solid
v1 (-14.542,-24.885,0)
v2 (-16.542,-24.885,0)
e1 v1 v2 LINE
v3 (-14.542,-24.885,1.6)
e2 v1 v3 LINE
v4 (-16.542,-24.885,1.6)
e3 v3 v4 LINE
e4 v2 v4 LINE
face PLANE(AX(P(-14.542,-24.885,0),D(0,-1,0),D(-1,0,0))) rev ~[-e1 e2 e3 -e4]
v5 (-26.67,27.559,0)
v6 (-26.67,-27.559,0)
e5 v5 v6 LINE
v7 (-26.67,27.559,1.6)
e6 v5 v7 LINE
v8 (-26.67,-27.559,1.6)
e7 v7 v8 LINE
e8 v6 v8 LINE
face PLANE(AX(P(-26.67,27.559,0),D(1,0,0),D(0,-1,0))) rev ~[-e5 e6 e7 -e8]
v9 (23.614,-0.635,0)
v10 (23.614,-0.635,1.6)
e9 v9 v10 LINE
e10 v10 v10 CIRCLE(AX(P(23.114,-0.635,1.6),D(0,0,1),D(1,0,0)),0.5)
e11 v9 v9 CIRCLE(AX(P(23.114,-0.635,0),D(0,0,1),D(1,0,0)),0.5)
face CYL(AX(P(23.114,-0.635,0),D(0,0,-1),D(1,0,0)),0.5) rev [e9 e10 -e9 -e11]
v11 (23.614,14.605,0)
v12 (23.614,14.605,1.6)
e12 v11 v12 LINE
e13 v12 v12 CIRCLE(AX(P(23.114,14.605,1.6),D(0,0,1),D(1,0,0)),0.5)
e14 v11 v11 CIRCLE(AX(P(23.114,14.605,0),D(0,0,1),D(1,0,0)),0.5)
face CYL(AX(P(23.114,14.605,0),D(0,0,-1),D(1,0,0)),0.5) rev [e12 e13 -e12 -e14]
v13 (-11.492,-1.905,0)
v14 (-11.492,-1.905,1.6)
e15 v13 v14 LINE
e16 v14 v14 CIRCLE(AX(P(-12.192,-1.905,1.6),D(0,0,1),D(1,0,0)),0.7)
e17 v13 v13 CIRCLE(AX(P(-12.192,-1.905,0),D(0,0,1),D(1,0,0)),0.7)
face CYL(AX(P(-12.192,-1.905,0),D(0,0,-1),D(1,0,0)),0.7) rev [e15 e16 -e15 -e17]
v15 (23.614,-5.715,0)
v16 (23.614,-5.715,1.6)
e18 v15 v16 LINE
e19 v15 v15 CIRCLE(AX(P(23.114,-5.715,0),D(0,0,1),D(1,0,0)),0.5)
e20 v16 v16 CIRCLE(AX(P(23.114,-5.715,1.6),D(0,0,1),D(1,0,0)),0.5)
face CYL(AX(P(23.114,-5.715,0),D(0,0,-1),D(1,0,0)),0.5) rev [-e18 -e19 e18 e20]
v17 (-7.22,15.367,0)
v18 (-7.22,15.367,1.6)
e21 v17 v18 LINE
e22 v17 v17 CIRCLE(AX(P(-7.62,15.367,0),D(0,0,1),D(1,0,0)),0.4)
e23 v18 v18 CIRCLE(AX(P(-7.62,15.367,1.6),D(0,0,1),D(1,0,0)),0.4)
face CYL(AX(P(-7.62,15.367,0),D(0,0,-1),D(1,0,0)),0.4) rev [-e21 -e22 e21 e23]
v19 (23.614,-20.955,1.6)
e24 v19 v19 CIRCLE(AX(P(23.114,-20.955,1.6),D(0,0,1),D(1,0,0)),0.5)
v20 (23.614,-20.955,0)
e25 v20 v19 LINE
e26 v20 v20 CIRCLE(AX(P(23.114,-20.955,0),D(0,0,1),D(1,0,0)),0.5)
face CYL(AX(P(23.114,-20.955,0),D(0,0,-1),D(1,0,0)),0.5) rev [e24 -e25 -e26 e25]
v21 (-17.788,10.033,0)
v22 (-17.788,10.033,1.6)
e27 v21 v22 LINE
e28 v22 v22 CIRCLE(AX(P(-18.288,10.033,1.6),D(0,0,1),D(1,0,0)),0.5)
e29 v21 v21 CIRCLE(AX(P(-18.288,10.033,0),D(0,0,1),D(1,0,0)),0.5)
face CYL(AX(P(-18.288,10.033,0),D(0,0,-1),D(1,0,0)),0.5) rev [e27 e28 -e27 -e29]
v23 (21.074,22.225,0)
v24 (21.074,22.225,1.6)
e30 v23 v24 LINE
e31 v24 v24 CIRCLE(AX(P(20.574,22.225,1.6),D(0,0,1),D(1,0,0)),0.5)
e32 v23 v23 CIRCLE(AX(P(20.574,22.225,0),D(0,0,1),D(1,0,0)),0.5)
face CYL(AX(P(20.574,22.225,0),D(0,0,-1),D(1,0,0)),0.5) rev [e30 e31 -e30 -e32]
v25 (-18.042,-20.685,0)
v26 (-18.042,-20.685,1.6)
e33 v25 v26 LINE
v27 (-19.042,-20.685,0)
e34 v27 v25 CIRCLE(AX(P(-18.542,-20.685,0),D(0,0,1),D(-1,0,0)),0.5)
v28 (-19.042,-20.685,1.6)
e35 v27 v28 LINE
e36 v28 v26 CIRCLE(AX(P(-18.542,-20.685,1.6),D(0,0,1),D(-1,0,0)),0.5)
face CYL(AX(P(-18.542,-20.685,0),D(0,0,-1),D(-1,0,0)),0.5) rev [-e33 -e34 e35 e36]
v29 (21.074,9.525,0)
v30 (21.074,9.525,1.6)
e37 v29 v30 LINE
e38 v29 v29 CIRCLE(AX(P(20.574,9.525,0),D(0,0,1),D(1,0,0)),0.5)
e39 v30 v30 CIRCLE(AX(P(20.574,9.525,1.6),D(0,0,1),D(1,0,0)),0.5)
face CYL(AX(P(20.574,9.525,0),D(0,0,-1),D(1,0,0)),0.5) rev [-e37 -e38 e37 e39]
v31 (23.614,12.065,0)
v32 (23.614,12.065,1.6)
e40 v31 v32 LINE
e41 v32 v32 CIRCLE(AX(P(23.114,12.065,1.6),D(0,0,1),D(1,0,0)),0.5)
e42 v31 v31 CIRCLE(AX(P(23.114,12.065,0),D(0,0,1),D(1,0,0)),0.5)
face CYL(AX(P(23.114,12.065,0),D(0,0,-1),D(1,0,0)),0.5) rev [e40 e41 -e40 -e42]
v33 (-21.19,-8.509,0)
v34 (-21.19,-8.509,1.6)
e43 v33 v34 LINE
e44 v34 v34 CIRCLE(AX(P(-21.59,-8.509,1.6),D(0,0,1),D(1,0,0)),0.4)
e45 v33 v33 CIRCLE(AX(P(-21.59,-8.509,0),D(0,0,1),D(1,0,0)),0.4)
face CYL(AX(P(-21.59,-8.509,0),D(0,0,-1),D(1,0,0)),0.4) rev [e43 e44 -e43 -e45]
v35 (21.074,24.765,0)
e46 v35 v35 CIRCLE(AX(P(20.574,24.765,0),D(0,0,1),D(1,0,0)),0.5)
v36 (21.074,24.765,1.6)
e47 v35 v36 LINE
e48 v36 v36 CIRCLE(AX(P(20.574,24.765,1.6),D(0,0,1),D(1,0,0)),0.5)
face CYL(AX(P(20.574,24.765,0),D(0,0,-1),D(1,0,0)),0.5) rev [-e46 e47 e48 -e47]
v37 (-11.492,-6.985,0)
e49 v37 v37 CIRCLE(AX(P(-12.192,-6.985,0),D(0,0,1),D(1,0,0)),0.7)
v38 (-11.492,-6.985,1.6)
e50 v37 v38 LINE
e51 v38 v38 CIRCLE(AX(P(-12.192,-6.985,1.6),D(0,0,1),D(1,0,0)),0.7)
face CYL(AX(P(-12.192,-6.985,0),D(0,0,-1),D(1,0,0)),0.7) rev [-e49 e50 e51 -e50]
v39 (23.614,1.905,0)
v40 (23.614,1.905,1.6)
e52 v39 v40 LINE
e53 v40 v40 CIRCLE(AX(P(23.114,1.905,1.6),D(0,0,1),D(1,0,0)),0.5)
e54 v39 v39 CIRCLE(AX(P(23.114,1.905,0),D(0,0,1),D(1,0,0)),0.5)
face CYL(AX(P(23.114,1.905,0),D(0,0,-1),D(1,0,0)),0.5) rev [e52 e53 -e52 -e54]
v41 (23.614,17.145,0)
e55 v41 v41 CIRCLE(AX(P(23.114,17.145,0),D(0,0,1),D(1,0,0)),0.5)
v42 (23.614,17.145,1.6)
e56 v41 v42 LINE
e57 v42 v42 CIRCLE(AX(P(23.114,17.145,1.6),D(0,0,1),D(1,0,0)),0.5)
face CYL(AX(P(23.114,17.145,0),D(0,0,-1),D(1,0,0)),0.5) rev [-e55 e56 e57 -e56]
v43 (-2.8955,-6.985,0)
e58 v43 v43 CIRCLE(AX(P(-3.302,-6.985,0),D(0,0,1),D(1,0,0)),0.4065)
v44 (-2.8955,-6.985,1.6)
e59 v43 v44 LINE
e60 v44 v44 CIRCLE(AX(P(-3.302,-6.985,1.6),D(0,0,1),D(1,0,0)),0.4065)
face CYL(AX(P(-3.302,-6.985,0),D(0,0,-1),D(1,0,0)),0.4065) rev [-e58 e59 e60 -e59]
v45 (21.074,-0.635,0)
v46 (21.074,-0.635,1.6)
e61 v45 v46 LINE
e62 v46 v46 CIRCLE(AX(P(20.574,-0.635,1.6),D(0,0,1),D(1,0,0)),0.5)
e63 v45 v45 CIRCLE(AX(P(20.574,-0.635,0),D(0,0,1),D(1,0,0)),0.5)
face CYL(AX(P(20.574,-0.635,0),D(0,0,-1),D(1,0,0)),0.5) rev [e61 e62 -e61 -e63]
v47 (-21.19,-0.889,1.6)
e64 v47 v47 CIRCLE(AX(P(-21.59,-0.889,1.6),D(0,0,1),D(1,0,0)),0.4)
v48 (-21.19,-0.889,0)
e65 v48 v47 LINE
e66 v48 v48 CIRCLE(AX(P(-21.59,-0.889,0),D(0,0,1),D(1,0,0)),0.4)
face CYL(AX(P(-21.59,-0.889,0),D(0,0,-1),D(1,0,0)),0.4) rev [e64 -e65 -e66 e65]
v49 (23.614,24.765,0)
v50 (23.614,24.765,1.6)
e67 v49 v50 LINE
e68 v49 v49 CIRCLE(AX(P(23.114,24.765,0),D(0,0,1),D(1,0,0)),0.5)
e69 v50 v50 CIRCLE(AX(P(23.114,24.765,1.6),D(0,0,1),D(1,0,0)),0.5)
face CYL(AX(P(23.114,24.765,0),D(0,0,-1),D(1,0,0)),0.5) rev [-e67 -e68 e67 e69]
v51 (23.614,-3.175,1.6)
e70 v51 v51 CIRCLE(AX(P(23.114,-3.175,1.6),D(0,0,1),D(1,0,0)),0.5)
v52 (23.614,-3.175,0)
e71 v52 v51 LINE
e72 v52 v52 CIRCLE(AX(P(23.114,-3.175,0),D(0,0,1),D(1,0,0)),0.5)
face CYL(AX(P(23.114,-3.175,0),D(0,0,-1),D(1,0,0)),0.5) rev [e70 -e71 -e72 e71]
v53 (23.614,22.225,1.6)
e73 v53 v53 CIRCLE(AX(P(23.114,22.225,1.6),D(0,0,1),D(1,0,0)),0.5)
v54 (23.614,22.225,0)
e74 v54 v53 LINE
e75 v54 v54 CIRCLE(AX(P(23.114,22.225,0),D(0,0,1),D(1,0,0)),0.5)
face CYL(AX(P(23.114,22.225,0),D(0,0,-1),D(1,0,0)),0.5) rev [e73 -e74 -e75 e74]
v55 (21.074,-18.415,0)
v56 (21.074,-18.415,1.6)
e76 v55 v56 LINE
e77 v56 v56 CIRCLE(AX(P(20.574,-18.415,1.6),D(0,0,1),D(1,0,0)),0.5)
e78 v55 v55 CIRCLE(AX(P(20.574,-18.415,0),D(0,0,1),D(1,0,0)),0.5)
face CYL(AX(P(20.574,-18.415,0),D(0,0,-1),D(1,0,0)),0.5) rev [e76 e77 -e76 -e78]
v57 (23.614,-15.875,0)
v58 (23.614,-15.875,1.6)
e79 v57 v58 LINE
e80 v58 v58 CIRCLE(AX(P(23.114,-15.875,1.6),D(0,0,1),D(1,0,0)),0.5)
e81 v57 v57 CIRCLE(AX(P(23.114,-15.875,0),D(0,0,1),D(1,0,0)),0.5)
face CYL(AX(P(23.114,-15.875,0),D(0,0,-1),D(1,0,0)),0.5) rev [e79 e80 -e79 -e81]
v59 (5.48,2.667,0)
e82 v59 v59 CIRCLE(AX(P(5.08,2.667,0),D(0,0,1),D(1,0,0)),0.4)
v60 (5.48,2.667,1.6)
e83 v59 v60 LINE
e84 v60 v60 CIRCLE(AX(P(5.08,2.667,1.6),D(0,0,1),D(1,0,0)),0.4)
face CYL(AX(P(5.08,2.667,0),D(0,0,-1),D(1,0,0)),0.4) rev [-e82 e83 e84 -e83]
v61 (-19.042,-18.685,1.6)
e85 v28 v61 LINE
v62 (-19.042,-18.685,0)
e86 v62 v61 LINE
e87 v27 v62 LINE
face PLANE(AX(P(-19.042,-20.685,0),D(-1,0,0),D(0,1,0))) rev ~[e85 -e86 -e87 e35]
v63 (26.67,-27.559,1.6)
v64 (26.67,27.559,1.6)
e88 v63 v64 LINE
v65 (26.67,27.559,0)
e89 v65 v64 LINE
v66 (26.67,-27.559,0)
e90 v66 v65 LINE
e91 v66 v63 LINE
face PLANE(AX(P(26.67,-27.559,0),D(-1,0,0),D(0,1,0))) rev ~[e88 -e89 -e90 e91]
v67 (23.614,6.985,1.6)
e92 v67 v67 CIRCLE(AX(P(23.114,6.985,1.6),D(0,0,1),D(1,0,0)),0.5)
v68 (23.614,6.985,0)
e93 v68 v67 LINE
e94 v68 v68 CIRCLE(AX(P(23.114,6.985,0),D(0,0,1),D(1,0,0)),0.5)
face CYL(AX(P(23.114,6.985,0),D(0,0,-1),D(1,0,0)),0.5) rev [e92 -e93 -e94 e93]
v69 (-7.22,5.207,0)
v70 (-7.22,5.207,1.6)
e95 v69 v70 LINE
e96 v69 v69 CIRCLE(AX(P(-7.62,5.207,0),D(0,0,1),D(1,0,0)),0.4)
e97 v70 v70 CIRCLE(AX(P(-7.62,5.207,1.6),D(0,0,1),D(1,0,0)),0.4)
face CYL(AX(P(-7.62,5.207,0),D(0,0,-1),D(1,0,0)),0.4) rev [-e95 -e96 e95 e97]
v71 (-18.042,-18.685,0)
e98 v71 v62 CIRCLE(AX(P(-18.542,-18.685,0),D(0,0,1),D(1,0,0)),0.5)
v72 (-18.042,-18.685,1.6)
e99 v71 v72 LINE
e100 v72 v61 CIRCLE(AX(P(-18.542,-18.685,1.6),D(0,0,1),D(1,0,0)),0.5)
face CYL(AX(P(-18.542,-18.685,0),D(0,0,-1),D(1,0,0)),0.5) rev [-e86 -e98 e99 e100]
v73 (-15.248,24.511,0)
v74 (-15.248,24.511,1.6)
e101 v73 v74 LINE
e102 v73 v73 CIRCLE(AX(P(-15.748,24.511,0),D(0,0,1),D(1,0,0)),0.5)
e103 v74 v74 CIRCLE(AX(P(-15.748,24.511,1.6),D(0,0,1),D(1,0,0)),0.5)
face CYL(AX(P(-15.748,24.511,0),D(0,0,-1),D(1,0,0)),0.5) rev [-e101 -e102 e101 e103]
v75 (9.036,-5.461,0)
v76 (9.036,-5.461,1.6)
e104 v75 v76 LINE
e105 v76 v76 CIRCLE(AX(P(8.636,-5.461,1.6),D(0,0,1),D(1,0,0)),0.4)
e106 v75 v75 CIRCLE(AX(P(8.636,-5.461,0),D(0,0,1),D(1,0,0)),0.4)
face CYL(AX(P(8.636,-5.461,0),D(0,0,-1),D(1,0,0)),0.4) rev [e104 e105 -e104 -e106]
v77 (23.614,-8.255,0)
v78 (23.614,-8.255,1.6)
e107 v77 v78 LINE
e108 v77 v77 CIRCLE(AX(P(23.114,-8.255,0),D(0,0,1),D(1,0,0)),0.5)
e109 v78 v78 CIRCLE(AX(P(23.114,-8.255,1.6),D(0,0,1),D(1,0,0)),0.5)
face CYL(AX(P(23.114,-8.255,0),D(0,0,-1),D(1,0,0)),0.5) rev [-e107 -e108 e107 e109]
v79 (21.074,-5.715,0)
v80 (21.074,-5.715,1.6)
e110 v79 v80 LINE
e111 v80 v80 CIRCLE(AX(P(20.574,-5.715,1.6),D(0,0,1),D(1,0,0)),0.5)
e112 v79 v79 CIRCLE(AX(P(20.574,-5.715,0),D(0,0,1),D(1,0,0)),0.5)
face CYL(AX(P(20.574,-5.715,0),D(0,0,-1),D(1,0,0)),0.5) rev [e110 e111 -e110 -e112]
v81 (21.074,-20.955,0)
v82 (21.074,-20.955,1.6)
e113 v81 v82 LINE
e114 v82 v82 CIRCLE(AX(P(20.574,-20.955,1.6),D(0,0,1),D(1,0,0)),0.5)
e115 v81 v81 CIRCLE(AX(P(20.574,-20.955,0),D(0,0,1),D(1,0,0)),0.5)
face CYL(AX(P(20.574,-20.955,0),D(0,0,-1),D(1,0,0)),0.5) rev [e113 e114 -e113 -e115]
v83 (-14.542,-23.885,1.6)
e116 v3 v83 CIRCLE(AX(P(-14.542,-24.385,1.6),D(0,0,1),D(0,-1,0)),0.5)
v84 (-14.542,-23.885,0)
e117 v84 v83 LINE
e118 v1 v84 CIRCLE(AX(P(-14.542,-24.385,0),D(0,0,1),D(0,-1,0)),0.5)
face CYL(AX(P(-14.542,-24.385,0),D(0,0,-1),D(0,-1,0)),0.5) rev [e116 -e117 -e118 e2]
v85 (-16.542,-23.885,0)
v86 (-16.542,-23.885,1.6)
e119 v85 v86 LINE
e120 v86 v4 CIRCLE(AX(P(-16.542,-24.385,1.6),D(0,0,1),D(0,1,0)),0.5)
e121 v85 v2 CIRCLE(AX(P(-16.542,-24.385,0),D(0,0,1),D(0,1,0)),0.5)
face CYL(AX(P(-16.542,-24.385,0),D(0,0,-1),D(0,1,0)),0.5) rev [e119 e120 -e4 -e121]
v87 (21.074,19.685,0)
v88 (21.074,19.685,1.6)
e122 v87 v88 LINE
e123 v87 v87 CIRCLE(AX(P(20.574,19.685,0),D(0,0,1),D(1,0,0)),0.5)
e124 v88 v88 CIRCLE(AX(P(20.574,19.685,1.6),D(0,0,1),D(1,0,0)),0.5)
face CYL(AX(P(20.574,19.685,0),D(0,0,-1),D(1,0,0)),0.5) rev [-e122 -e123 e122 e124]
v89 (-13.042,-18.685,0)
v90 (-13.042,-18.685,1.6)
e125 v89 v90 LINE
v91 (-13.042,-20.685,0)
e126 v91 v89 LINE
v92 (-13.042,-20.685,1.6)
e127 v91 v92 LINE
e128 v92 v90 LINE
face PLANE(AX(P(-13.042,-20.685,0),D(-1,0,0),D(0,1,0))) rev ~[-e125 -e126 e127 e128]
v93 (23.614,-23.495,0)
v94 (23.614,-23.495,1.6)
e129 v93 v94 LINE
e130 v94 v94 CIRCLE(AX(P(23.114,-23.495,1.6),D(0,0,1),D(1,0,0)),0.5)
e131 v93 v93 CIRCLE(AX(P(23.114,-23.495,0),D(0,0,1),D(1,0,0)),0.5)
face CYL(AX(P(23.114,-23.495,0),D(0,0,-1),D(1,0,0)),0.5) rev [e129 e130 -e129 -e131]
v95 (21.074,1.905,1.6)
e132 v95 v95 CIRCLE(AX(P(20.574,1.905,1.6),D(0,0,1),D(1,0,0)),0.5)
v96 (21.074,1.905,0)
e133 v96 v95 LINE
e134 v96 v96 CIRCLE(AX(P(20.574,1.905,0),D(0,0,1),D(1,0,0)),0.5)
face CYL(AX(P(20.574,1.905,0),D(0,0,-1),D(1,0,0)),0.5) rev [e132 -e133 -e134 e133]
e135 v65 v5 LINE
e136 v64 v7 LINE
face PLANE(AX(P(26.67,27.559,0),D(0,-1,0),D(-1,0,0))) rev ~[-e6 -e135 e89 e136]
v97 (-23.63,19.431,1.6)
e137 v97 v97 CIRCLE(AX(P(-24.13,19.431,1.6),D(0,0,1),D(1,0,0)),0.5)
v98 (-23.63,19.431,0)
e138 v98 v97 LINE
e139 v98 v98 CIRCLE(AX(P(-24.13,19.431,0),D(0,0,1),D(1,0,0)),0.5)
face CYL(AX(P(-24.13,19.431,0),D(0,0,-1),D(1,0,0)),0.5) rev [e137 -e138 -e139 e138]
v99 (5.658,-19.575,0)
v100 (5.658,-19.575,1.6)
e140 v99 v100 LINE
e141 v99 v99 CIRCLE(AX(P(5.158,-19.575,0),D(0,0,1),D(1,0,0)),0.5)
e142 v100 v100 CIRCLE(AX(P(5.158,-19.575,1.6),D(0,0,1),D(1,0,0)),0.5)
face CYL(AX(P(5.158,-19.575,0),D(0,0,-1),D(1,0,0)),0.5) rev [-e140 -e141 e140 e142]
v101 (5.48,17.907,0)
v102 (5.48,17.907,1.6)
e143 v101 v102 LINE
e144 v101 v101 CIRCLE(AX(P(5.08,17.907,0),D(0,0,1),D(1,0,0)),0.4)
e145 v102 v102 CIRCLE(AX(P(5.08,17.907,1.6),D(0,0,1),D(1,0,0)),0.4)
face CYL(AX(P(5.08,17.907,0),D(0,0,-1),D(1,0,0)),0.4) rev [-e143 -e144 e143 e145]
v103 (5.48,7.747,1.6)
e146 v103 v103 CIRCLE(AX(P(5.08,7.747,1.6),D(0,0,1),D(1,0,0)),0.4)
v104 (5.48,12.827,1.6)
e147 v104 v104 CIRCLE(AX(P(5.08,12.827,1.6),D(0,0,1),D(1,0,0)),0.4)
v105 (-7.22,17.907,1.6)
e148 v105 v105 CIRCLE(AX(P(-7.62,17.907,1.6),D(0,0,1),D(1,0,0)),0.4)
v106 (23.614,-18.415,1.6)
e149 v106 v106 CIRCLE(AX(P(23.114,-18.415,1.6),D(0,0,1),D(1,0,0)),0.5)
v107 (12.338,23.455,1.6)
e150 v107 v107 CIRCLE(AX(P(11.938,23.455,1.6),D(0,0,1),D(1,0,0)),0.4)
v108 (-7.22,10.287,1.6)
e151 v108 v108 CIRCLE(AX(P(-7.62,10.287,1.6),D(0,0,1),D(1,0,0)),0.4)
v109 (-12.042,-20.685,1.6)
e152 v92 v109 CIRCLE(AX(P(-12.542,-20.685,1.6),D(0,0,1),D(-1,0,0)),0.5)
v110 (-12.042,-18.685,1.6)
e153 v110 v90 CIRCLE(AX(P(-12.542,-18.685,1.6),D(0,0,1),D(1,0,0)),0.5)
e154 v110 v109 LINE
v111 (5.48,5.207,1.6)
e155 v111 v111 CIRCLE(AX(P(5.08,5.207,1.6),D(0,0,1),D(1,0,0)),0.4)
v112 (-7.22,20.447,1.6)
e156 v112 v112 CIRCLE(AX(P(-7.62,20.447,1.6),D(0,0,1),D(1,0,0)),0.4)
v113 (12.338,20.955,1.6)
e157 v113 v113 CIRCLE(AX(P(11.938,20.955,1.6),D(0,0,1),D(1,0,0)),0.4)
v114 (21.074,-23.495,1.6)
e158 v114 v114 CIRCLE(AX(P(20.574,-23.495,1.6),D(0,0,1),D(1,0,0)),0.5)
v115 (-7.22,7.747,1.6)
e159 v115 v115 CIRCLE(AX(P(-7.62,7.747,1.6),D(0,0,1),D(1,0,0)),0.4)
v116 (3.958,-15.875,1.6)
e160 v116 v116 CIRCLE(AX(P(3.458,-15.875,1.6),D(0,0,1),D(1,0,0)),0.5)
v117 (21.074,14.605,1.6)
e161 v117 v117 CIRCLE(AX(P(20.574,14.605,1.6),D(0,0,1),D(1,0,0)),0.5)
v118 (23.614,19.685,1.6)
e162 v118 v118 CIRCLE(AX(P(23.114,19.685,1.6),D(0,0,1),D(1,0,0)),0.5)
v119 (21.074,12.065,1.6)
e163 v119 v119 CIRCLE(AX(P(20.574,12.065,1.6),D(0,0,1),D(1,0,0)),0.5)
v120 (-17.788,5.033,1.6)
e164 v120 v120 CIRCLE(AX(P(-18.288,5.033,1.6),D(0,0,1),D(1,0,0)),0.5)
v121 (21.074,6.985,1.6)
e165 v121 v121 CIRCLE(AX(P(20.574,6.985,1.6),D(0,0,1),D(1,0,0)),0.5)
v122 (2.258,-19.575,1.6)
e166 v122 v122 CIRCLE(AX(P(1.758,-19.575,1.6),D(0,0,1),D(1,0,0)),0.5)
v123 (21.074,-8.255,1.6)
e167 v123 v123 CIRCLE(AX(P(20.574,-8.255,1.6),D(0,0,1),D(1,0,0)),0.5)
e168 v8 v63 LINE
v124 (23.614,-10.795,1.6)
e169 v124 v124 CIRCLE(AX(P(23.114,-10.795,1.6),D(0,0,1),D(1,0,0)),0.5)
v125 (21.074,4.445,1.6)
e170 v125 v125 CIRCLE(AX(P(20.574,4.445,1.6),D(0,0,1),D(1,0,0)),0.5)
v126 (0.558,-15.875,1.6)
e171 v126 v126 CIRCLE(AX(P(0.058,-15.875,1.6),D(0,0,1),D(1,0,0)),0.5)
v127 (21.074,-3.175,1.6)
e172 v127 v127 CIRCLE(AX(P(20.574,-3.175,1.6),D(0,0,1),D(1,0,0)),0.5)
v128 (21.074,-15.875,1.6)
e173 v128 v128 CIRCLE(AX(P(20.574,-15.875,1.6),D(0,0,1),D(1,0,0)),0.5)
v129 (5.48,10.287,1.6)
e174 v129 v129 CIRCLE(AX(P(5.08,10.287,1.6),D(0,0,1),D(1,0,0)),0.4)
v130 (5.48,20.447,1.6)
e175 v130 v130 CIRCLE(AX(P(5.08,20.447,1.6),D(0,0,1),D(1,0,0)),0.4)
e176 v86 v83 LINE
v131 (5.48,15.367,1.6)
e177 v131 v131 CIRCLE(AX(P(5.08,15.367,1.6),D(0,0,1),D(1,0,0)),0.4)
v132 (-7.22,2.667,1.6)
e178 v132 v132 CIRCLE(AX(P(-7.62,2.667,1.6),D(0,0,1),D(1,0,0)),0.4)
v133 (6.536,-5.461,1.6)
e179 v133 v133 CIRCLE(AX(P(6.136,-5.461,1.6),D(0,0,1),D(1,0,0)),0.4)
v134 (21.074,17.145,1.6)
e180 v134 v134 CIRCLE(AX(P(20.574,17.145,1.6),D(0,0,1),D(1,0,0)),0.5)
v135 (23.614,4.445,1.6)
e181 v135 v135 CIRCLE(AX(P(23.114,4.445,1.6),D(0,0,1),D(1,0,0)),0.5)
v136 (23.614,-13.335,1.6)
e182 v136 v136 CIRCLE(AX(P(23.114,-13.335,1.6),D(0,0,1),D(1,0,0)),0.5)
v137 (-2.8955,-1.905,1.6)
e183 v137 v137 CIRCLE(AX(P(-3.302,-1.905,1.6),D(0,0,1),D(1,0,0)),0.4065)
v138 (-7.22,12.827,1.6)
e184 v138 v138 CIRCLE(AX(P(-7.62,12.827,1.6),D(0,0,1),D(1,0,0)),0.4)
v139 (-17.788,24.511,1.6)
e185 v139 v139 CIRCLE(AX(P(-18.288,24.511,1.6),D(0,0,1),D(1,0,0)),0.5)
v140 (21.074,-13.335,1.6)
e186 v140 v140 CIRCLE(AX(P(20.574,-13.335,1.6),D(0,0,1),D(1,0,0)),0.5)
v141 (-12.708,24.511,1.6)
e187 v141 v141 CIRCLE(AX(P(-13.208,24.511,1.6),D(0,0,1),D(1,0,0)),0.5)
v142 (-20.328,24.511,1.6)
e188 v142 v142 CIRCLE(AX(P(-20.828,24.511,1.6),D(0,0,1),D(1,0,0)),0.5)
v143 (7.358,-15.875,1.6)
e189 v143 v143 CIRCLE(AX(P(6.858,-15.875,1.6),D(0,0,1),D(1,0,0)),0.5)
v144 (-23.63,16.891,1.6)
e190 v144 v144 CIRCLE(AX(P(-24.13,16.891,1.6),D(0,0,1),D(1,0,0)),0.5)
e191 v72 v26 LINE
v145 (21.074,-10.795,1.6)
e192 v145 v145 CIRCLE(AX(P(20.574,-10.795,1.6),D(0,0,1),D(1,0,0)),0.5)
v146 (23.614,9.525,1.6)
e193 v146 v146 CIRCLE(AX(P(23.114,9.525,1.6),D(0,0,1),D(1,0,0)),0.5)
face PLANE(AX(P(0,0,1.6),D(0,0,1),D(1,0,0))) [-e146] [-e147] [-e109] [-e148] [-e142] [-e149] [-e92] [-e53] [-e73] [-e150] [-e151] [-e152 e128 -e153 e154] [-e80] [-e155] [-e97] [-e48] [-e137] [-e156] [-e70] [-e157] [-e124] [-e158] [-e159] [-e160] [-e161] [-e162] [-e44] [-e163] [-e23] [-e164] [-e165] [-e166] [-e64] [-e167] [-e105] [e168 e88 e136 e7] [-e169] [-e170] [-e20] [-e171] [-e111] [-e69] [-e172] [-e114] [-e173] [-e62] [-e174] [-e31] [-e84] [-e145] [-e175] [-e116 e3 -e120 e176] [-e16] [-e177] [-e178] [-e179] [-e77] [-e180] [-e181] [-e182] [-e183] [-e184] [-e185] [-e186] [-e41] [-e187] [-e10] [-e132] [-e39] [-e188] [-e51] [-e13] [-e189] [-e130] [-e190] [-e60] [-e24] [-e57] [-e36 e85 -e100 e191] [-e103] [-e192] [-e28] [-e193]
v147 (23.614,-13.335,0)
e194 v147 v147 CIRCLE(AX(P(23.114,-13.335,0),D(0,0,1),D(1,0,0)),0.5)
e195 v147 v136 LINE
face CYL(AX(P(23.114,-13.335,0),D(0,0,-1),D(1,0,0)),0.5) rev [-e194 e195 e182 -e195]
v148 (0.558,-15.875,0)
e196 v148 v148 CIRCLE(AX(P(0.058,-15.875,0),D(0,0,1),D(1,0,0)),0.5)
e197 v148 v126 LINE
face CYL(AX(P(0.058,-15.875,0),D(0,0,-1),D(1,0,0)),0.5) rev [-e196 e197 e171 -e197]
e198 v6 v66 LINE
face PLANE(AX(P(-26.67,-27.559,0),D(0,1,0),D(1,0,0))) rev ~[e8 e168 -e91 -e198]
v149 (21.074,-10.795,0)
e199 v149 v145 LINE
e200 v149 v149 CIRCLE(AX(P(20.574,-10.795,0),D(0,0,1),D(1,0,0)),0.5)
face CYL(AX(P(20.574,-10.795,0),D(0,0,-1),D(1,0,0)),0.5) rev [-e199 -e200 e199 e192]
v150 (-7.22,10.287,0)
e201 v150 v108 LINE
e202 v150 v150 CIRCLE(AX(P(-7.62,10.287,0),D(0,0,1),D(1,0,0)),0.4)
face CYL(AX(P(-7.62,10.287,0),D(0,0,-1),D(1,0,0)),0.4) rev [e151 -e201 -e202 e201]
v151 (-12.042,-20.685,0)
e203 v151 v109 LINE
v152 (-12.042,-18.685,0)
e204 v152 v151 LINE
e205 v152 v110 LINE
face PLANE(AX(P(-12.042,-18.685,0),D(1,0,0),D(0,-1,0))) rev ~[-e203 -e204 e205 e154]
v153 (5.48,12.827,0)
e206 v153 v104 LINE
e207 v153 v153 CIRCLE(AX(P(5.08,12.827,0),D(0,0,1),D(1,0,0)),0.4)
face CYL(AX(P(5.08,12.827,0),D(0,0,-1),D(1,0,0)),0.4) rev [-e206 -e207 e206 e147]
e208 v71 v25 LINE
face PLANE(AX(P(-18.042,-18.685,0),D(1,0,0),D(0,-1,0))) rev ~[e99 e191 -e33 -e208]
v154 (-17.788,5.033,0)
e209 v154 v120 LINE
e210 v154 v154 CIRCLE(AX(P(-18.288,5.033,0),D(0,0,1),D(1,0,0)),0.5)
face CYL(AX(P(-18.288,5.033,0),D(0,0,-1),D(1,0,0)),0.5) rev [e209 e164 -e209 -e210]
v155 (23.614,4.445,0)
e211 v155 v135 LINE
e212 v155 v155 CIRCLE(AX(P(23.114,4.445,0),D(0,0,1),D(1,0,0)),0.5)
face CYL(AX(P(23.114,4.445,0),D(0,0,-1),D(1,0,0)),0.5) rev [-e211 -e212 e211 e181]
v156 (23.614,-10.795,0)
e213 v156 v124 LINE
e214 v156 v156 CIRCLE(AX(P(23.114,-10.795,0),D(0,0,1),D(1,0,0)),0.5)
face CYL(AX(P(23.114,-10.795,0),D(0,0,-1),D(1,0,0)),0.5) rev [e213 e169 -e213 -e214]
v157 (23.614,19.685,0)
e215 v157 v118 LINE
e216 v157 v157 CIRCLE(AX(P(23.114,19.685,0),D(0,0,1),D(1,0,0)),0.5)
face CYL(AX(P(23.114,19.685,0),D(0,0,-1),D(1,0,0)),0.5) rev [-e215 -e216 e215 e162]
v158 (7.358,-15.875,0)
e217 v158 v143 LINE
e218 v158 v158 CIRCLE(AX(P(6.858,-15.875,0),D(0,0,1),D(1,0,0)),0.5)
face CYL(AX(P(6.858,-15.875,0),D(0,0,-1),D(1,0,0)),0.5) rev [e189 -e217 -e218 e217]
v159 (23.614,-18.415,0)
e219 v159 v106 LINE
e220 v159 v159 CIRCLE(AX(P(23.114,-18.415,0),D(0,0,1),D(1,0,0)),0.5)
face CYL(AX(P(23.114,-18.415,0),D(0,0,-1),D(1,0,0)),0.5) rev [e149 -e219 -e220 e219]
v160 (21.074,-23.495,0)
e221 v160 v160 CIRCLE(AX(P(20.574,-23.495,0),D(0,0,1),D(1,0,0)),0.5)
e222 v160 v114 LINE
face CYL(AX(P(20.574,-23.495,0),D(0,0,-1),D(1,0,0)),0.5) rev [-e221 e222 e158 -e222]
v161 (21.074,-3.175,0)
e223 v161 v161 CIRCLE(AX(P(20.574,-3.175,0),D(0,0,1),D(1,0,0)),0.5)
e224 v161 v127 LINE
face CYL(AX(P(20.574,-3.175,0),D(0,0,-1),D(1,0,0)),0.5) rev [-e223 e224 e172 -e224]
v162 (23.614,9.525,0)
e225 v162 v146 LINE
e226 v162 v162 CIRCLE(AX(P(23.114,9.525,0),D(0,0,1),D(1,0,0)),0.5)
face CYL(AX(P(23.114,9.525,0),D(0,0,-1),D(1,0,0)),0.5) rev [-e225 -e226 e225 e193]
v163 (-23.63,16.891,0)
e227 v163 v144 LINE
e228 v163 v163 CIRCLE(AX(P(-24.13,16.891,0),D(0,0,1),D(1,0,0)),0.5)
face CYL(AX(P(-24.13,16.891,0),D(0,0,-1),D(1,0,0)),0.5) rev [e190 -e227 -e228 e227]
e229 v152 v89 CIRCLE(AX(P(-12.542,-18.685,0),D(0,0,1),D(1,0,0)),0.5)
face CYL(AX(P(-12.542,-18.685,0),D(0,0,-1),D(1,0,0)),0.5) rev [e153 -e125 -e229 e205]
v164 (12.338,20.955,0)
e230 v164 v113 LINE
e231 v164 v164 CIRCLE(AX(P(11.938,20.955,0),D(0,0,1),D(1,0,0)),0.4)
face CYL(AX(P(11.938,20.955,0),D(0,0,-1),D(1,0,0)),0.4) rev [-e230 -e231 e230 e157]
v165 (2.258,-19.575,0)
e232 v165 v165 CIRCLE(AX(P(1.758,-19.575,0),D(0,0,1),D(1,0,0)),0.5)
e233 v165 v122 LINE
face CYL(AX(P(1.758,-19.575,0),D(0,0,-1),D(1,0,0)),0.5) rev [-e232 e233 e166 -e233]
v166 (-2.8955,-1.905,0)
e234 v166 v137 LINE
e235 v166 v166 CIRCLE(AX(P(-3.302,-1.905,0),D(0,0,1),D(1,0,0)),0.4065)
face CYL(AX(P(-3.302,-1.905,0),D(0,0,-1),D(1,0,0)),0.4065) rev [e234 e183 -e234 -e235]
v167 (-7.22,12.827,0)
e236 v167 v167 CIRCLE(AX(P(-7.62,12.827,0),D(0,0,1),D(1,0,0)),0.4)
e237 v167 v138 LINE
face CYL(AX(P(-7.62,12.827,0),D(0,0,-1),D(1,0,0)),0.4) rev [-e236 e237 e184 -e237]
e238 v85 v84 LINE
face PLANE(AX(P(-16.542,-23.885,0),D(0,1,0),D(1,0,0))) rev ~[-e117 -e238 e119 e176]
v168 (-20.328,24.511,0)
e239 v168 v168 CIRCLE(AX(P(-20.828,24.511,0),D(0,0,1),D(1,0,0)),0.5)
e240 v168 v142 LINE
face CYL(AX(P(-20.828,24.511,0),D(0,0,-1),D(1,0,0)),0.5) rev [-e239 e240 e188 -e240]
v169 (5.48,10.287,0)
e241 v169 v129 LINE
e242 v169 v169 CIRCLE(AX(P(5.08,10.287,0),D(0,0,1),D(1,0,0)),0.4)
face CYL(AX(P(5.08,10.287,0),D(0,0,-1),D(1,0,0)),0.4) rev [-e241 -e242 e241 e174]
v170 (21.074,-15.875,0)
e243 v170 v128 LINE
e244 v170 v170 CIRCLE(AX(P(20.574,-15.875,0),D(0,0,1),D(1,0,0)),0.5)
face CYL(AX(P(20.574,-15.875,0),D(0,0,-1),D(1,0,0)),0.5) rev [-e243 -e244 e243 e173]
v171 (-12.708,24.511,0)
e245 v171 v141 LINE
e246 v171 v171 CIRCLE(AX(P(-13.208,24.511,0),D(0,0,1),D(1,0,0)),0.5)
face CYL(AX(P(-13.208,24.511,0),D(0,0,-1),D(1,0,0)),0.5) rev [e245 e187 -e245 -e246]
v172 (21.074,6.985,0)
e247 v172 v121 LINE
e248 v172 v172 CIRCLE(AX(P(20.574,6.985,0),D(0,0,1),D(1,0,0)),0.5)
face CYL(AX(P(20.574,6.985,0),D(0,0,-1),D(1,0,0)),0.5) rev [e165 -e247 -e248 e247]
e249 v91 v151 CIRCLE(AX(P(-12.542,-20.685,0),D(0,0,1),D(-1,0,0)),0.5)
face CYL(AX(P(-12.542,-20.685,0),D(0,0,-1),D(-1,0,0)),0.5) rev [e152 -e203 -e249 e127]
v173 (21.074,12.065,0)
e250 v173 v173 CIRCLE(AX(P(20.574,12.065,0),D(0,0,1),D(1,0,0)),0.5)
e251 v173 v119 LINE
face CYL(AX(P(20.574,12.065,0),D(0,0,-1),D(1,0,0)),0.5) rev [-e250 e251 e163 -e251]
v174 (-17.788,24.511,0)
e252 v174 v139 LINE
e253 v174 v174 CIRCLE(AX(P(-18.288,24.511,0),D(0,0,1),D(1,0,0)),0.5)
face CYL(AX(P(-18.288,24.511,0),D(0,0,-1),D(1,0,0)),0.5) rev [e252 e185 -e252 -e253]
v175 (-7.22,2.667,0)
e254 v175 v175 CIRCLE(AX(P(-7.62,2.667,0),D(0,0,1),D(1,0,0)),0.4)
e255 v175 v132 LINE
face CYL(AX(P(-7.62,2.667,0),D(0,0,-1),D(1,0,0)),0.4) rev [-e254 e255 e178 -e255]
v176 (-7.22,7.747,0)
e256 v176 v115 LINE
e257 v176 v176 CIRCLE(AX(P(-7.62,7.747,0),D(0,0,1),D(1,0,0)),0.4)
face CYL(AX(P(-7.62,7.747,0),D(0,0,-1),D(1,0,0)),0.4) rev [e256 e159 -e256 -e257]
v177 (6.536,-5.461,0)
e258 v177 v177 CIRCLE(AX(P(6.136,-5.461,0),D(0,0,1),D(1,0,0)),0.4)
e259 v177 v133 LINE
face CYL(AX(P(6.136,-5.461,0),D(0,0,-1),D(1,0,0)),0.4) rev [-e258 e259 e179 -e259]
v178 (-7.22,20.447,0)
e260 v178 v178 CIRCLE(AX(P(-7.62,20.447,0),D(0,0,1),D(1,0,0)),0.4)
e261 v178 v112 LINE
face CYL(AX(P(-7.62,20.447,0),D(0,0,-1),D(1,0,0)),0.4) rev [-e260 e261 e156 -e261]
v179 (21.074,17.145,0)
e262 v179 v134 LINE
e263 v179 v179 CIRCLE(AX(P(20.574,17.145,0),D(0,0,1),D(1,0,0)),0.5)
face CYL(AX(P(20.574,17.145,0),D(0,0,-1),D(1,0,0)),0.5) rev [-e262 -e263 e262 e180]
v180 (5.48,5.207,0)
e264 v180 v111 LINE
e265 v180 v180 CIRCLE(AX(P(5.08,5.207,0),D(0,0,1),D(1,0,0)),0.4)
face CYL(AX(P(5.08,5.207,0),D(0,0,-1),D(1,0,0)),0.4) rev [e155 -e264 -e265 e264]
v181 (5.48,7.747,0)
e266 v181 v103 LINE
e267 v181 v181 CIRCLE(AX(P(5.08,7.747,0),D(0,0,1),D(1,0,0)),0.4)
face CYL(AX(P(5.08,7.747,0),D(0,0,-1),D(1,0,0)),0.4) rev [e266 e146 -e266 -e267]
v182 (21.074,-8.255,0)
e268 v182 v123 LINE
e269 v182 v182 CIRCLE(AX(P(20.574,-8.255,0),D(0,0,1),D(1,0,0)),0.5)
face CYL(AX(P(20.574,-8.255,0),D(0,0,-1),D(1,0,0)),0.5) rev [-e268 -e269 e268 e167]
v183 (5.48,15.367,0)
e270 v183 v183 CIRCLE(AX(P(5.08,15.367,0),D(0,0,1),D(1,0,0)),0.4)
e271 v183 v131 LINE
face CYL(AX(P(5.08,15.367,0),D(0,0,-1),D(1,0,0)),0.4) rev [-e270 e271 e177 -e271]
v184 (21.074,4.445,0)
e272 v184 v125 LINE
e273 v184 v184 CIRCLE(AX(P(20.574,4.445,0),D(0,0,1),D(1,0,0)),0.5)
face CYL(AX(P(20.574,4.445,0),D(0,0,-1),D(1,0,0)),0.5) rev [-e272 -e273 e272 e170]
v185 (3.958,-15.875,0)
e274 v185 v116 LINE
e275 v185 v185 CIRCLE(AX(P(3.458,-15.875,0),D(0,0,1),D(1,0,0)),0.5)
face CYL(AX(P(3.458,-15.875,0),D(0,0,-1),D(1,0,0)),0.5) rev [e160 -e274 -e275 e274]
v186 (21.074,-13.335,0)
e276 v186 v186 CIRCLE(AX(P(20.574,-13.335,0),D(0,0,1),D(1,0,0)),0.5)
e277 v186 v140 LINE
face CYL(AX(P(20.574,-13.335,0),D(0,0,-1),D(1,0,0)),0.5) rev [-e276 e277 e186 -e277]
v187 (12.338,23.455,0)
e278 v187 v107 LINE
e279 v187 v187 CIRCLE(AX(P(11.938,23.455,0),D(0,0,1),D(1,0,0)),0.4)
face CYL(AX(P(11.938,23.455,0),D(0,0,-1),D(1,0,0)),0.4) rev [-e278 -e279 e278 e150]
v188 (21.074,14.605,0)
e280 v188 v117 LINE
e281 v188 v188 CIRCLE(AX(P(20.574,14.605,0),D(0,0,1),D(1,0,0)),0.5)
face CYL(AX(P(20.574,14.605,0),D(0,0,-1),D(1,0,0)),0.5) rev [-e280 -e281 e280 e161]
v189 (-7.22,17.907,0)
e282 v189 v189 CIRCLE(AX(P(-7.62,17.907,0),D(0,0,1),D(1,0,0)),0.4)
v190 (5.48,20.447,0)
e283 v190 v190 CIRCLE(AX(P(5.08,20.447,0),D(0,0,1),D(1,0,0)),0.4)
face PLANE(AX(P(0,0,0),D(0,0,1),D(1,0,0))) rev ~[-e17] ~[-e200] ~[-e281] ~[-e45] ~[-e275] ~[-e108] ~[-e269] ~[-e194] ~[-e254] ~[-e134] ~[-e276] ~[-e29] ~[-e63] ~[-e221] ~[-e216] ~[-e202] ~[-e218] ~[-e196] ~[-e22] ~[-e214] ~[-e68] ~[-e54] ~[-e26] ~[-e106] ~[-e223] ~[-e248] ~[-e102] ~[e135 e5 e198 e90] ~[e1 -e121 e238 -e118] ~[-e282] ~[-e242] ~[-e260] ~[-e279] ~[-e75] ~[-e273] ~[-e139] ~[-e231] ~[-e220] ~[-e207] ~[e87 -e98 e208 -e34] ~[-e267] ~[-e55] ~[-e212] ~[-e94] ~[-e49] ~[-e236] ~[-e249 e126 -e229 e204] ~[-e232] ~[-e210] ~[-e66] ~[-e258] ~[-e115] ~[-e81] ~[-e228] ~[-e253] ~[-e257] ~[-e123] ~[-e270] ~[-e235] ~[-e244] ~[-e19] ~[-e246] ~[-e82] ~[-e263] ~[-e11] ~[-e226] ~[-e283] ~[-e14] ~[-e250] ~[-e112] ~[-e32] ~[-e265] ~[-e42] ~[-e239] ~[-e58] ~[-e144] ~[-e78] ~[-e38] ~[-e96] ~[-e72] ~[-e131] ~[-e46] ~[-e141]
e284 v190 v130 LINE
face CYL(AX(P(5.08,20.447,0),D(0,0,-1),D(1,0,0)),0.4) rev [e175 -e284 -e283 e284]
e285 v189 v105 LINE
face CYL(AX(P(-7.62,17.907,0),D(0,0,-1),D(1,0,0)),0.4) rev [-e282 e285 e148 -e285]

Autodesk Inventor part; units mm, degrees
ref_plane "YZ Plane" through (0, 0, 0) normal (1, 0, 0) x (0, 1, 0)
ref_plane "XZ Plane" through (0, 0, 0) normal (0, 1, 0) x (-1, 0, 0)
ref_plane "XY Plane" through (0, 0, 0) normal (0, 0, 1) x (1, 0, 0)
sketch "Sketch1" plane through (0, 0, 0) normal (0, 0, 1) x (1, 0, 0)
  line L0 (26.67, 27.559) -> (-26.67, 27.559)
  line L1 (-26.67, 27.559) -> (-26.67, -27.559)
  line L2 (-26.67, -27.559) -> (26.67, -27.559)
  line L3 (26.67, -27.559) -> (26.67, 27.559)
  line L4 (-12.042, -18.685) -> (-12.042, -20.685)
  arc A0 (-13.042, -20.685) -> (-12.042, -20.685) centre (-12.542, -20.685) ccw
  line L5 (-13.042, -20.685) -> (-13.042, -18.685)
  arc A1 (-12.042, -18.685) -> (-13.042, -18.685) centre (-12.542, -18.685) ccw
  line L6 (-18.042, -18.685) -> (-18.042, -20.685)
  arc A2 (-19.042, -20.685) -> (-18.042, -20.685) centre (-18.542, -20.685) ccw
  line L7 (-19.042, -20.685) -> (-19.042, -18.685)
  arc A3 (-18.042, -18.685) -> (-19.042, -18.685) centre (-18.542, -18.685) ccw
  line L8 (-14.542, -24.885) -> (-16.542, -24.885)
  arc A4 (-16.542, -23.885) -> (-16.542, -24.885) centre (-16.542, -24.385) ccw
  line L9 (-16.542, -23.885) -> (-14.542, -23.885)
  arc A5 (-14.542, -24.885) -> (-14.542, -23.885) centre (-14.542, -24.385) ccw
  circle A6 centre (8.636, -5.461) radius 0.4
  circle A7 centre (6.136, -5.461) radius 0.4
  circle A8 centre (-18.288, 5.033) radius 0.5
  circle A9 centre (-18.288, 10.033) radius 0.5
  circle A10 centre (11.938, 23.455) radius 0.4
  circle A11 centre (11.938, 20.955) radius 0.4
  circle A12 centre (-12.192, -6.985) radius 0.7
  circle A13 centre (-12.192, -1.905) radius 0.7
  circle A14 centre (-3.302, -1.905) radius 0.4065
  circle A15 centre (-3.302, -6.985) radius 0.4065
  circle A16 centre (-13.208, 24.511) radius 0.5
  circle A17 centre (-15.748, 24.511) radius 0.5
  circle A18 centre (-18.288, 24.511) radius 0.5
  circle A19 centre (-20.828, 24.511) radius 0.5
  circle A20 centre (-24.13, 19.431) radius 0.5
  circle A21 centre (-24.13, 16.891) radius 0.5
  circle A22 centre (-21.59, -8.509) radius 0.4
  circle A23 centre (-21.59, -0.889) radius 0.4
  circle A24 centre (6.858, -15.875) radius 0.5
  circle A25 centre (5.158, -19.575) radius 0.5
  circle A26 centre (3.458, -15.875) radius 0.5
  circle A27 centre (1.758, -19.575) radius 0.5
  circle A28 centre (0.058, -15.875) radius 0.5
  circle A29 centre (20.574, 24.765) radius 0.5
  circle A30 centre (23.114, 24.765) radius 0.5
  circle A31 centre (20.574, 22.225) radius 0.5
  circle A32 centre (23.114, 22.225) radius 0.5
  circle A33 centre (20.574, 19.685) radius 0.5
  circle A34 centre (23.114, 19.685) radius 0.5
  circle A35 centre (20.574, 17.145) radius 0.5
  circle A36 centre (23.114, 17.145) radius 0.5
  circle A37 centre (20.574, 14.605) radius 0.5
  circle A38 centre (23.114, 14.605) radius 0.5
  circle A39 centre (20.574, 12.065) radius 0.5
  circle A40 centre (23.114, 12.065) radius 0.5
  circle A41 centre (20.574, 9.525) radius 0.5
  circle A42 centre (23.114, 9.525) radius 0.5
  circle A43 centre (20.574, 6.985) radius 0.5
  circle A44 centre (23.114, 6.985) radius 0.5
  circle A45 centre (20.574, 4.445) radius 0.5
  circle A46 centre (23.114, 4.445) radius 0.5
  circle A47 centre (20.574, 1.905) radius 0.5
  circle A48 centre (23.114, 1.905) radius 0.5
  circle A49 centre (20.574, -0.635) radius 0.5
  circle A50 centre (23.114, -0.635) radius 0.5
  circle A51 centre (20.574, -3.175) radius 0.5
  circle A52 centre (23.114, -3.175) radius 0.5
  circle A53 centre (20.574, -5.715) radius 0.5
  circle A54 centre (23.114, -5.715) radius 0.5
  circle A55 centre (20.574, -8.255) radius 0.5
  circle A56 centre (23.114, -8.255) radius 0.5
  circle A57 centre (20.574, -10.795) radius 0.5
  circle A58 centre (23.114, -10.795) radius 0.5
  circle A59 centre (20.574, -13.335) radius 0.5
  circle A60 centre (23.114, -13.335) radius 0.5
  circle A61 centre (20.574, -15.875) radius 0.5
  circle A62 centre (23.114, -15.875) radius 0.5
  circle A63 centre (20.574, -18.415) radius 0.5
  circle A64 centre (23.114, -18.415) radius 0.5
  circle A65 centre (20.574, -20.955) radius 0.5
  circle A66 centre (23.114, -20.955) radius 0.5
  circle A67 centre (20.574, -23.495) radius 0.5
  circle A68 centre (23.114, -23.495) radius 0.5
  circle A69 centre (5.08, 20.447) radius 0.4
  circle A70 centre (-7.62, 20.447) radius 0.4
  circle A71 centre (5.08, 17.907) radius 0.4
  circle A72 centre (-7.62, 17.907) radius 0.4
  circle A73 centre (5.08, 15.367) radius 0.4
  circle A74 centre (-7.62, 15.367) radius 0.4
  circle A75 centre (5.08, 12.827) radius 0.4
  circle A76 centre (-7.62, 12.827) radius 0.4
  circle A77 centre (5.08, 10.287) radius 0.4
  circle A78 centre (-7.62, 10.287) radius 0.4
  circle A79 centre (5.08, 7.747) radius 0.4
  circle A80 centre (-7.62, 7.747) radius 0.4
  circle A81 centre (5.08, 5.207) radius 0.4
  circle A82 centre (-7.62, 5.207) radius 0.4
  circle A83 centre (5.08, 2.667) radius 0.4
  circle A84 centre (-7.62, 2.667) radius 0.4
extrude "RPi_BeamProfiler.kicad_pcb_Outline" add sketch "Sketch1" along normal blind 1.6
properties part number "RPi_BeamProfiler.kicad_pcb_Outline"
